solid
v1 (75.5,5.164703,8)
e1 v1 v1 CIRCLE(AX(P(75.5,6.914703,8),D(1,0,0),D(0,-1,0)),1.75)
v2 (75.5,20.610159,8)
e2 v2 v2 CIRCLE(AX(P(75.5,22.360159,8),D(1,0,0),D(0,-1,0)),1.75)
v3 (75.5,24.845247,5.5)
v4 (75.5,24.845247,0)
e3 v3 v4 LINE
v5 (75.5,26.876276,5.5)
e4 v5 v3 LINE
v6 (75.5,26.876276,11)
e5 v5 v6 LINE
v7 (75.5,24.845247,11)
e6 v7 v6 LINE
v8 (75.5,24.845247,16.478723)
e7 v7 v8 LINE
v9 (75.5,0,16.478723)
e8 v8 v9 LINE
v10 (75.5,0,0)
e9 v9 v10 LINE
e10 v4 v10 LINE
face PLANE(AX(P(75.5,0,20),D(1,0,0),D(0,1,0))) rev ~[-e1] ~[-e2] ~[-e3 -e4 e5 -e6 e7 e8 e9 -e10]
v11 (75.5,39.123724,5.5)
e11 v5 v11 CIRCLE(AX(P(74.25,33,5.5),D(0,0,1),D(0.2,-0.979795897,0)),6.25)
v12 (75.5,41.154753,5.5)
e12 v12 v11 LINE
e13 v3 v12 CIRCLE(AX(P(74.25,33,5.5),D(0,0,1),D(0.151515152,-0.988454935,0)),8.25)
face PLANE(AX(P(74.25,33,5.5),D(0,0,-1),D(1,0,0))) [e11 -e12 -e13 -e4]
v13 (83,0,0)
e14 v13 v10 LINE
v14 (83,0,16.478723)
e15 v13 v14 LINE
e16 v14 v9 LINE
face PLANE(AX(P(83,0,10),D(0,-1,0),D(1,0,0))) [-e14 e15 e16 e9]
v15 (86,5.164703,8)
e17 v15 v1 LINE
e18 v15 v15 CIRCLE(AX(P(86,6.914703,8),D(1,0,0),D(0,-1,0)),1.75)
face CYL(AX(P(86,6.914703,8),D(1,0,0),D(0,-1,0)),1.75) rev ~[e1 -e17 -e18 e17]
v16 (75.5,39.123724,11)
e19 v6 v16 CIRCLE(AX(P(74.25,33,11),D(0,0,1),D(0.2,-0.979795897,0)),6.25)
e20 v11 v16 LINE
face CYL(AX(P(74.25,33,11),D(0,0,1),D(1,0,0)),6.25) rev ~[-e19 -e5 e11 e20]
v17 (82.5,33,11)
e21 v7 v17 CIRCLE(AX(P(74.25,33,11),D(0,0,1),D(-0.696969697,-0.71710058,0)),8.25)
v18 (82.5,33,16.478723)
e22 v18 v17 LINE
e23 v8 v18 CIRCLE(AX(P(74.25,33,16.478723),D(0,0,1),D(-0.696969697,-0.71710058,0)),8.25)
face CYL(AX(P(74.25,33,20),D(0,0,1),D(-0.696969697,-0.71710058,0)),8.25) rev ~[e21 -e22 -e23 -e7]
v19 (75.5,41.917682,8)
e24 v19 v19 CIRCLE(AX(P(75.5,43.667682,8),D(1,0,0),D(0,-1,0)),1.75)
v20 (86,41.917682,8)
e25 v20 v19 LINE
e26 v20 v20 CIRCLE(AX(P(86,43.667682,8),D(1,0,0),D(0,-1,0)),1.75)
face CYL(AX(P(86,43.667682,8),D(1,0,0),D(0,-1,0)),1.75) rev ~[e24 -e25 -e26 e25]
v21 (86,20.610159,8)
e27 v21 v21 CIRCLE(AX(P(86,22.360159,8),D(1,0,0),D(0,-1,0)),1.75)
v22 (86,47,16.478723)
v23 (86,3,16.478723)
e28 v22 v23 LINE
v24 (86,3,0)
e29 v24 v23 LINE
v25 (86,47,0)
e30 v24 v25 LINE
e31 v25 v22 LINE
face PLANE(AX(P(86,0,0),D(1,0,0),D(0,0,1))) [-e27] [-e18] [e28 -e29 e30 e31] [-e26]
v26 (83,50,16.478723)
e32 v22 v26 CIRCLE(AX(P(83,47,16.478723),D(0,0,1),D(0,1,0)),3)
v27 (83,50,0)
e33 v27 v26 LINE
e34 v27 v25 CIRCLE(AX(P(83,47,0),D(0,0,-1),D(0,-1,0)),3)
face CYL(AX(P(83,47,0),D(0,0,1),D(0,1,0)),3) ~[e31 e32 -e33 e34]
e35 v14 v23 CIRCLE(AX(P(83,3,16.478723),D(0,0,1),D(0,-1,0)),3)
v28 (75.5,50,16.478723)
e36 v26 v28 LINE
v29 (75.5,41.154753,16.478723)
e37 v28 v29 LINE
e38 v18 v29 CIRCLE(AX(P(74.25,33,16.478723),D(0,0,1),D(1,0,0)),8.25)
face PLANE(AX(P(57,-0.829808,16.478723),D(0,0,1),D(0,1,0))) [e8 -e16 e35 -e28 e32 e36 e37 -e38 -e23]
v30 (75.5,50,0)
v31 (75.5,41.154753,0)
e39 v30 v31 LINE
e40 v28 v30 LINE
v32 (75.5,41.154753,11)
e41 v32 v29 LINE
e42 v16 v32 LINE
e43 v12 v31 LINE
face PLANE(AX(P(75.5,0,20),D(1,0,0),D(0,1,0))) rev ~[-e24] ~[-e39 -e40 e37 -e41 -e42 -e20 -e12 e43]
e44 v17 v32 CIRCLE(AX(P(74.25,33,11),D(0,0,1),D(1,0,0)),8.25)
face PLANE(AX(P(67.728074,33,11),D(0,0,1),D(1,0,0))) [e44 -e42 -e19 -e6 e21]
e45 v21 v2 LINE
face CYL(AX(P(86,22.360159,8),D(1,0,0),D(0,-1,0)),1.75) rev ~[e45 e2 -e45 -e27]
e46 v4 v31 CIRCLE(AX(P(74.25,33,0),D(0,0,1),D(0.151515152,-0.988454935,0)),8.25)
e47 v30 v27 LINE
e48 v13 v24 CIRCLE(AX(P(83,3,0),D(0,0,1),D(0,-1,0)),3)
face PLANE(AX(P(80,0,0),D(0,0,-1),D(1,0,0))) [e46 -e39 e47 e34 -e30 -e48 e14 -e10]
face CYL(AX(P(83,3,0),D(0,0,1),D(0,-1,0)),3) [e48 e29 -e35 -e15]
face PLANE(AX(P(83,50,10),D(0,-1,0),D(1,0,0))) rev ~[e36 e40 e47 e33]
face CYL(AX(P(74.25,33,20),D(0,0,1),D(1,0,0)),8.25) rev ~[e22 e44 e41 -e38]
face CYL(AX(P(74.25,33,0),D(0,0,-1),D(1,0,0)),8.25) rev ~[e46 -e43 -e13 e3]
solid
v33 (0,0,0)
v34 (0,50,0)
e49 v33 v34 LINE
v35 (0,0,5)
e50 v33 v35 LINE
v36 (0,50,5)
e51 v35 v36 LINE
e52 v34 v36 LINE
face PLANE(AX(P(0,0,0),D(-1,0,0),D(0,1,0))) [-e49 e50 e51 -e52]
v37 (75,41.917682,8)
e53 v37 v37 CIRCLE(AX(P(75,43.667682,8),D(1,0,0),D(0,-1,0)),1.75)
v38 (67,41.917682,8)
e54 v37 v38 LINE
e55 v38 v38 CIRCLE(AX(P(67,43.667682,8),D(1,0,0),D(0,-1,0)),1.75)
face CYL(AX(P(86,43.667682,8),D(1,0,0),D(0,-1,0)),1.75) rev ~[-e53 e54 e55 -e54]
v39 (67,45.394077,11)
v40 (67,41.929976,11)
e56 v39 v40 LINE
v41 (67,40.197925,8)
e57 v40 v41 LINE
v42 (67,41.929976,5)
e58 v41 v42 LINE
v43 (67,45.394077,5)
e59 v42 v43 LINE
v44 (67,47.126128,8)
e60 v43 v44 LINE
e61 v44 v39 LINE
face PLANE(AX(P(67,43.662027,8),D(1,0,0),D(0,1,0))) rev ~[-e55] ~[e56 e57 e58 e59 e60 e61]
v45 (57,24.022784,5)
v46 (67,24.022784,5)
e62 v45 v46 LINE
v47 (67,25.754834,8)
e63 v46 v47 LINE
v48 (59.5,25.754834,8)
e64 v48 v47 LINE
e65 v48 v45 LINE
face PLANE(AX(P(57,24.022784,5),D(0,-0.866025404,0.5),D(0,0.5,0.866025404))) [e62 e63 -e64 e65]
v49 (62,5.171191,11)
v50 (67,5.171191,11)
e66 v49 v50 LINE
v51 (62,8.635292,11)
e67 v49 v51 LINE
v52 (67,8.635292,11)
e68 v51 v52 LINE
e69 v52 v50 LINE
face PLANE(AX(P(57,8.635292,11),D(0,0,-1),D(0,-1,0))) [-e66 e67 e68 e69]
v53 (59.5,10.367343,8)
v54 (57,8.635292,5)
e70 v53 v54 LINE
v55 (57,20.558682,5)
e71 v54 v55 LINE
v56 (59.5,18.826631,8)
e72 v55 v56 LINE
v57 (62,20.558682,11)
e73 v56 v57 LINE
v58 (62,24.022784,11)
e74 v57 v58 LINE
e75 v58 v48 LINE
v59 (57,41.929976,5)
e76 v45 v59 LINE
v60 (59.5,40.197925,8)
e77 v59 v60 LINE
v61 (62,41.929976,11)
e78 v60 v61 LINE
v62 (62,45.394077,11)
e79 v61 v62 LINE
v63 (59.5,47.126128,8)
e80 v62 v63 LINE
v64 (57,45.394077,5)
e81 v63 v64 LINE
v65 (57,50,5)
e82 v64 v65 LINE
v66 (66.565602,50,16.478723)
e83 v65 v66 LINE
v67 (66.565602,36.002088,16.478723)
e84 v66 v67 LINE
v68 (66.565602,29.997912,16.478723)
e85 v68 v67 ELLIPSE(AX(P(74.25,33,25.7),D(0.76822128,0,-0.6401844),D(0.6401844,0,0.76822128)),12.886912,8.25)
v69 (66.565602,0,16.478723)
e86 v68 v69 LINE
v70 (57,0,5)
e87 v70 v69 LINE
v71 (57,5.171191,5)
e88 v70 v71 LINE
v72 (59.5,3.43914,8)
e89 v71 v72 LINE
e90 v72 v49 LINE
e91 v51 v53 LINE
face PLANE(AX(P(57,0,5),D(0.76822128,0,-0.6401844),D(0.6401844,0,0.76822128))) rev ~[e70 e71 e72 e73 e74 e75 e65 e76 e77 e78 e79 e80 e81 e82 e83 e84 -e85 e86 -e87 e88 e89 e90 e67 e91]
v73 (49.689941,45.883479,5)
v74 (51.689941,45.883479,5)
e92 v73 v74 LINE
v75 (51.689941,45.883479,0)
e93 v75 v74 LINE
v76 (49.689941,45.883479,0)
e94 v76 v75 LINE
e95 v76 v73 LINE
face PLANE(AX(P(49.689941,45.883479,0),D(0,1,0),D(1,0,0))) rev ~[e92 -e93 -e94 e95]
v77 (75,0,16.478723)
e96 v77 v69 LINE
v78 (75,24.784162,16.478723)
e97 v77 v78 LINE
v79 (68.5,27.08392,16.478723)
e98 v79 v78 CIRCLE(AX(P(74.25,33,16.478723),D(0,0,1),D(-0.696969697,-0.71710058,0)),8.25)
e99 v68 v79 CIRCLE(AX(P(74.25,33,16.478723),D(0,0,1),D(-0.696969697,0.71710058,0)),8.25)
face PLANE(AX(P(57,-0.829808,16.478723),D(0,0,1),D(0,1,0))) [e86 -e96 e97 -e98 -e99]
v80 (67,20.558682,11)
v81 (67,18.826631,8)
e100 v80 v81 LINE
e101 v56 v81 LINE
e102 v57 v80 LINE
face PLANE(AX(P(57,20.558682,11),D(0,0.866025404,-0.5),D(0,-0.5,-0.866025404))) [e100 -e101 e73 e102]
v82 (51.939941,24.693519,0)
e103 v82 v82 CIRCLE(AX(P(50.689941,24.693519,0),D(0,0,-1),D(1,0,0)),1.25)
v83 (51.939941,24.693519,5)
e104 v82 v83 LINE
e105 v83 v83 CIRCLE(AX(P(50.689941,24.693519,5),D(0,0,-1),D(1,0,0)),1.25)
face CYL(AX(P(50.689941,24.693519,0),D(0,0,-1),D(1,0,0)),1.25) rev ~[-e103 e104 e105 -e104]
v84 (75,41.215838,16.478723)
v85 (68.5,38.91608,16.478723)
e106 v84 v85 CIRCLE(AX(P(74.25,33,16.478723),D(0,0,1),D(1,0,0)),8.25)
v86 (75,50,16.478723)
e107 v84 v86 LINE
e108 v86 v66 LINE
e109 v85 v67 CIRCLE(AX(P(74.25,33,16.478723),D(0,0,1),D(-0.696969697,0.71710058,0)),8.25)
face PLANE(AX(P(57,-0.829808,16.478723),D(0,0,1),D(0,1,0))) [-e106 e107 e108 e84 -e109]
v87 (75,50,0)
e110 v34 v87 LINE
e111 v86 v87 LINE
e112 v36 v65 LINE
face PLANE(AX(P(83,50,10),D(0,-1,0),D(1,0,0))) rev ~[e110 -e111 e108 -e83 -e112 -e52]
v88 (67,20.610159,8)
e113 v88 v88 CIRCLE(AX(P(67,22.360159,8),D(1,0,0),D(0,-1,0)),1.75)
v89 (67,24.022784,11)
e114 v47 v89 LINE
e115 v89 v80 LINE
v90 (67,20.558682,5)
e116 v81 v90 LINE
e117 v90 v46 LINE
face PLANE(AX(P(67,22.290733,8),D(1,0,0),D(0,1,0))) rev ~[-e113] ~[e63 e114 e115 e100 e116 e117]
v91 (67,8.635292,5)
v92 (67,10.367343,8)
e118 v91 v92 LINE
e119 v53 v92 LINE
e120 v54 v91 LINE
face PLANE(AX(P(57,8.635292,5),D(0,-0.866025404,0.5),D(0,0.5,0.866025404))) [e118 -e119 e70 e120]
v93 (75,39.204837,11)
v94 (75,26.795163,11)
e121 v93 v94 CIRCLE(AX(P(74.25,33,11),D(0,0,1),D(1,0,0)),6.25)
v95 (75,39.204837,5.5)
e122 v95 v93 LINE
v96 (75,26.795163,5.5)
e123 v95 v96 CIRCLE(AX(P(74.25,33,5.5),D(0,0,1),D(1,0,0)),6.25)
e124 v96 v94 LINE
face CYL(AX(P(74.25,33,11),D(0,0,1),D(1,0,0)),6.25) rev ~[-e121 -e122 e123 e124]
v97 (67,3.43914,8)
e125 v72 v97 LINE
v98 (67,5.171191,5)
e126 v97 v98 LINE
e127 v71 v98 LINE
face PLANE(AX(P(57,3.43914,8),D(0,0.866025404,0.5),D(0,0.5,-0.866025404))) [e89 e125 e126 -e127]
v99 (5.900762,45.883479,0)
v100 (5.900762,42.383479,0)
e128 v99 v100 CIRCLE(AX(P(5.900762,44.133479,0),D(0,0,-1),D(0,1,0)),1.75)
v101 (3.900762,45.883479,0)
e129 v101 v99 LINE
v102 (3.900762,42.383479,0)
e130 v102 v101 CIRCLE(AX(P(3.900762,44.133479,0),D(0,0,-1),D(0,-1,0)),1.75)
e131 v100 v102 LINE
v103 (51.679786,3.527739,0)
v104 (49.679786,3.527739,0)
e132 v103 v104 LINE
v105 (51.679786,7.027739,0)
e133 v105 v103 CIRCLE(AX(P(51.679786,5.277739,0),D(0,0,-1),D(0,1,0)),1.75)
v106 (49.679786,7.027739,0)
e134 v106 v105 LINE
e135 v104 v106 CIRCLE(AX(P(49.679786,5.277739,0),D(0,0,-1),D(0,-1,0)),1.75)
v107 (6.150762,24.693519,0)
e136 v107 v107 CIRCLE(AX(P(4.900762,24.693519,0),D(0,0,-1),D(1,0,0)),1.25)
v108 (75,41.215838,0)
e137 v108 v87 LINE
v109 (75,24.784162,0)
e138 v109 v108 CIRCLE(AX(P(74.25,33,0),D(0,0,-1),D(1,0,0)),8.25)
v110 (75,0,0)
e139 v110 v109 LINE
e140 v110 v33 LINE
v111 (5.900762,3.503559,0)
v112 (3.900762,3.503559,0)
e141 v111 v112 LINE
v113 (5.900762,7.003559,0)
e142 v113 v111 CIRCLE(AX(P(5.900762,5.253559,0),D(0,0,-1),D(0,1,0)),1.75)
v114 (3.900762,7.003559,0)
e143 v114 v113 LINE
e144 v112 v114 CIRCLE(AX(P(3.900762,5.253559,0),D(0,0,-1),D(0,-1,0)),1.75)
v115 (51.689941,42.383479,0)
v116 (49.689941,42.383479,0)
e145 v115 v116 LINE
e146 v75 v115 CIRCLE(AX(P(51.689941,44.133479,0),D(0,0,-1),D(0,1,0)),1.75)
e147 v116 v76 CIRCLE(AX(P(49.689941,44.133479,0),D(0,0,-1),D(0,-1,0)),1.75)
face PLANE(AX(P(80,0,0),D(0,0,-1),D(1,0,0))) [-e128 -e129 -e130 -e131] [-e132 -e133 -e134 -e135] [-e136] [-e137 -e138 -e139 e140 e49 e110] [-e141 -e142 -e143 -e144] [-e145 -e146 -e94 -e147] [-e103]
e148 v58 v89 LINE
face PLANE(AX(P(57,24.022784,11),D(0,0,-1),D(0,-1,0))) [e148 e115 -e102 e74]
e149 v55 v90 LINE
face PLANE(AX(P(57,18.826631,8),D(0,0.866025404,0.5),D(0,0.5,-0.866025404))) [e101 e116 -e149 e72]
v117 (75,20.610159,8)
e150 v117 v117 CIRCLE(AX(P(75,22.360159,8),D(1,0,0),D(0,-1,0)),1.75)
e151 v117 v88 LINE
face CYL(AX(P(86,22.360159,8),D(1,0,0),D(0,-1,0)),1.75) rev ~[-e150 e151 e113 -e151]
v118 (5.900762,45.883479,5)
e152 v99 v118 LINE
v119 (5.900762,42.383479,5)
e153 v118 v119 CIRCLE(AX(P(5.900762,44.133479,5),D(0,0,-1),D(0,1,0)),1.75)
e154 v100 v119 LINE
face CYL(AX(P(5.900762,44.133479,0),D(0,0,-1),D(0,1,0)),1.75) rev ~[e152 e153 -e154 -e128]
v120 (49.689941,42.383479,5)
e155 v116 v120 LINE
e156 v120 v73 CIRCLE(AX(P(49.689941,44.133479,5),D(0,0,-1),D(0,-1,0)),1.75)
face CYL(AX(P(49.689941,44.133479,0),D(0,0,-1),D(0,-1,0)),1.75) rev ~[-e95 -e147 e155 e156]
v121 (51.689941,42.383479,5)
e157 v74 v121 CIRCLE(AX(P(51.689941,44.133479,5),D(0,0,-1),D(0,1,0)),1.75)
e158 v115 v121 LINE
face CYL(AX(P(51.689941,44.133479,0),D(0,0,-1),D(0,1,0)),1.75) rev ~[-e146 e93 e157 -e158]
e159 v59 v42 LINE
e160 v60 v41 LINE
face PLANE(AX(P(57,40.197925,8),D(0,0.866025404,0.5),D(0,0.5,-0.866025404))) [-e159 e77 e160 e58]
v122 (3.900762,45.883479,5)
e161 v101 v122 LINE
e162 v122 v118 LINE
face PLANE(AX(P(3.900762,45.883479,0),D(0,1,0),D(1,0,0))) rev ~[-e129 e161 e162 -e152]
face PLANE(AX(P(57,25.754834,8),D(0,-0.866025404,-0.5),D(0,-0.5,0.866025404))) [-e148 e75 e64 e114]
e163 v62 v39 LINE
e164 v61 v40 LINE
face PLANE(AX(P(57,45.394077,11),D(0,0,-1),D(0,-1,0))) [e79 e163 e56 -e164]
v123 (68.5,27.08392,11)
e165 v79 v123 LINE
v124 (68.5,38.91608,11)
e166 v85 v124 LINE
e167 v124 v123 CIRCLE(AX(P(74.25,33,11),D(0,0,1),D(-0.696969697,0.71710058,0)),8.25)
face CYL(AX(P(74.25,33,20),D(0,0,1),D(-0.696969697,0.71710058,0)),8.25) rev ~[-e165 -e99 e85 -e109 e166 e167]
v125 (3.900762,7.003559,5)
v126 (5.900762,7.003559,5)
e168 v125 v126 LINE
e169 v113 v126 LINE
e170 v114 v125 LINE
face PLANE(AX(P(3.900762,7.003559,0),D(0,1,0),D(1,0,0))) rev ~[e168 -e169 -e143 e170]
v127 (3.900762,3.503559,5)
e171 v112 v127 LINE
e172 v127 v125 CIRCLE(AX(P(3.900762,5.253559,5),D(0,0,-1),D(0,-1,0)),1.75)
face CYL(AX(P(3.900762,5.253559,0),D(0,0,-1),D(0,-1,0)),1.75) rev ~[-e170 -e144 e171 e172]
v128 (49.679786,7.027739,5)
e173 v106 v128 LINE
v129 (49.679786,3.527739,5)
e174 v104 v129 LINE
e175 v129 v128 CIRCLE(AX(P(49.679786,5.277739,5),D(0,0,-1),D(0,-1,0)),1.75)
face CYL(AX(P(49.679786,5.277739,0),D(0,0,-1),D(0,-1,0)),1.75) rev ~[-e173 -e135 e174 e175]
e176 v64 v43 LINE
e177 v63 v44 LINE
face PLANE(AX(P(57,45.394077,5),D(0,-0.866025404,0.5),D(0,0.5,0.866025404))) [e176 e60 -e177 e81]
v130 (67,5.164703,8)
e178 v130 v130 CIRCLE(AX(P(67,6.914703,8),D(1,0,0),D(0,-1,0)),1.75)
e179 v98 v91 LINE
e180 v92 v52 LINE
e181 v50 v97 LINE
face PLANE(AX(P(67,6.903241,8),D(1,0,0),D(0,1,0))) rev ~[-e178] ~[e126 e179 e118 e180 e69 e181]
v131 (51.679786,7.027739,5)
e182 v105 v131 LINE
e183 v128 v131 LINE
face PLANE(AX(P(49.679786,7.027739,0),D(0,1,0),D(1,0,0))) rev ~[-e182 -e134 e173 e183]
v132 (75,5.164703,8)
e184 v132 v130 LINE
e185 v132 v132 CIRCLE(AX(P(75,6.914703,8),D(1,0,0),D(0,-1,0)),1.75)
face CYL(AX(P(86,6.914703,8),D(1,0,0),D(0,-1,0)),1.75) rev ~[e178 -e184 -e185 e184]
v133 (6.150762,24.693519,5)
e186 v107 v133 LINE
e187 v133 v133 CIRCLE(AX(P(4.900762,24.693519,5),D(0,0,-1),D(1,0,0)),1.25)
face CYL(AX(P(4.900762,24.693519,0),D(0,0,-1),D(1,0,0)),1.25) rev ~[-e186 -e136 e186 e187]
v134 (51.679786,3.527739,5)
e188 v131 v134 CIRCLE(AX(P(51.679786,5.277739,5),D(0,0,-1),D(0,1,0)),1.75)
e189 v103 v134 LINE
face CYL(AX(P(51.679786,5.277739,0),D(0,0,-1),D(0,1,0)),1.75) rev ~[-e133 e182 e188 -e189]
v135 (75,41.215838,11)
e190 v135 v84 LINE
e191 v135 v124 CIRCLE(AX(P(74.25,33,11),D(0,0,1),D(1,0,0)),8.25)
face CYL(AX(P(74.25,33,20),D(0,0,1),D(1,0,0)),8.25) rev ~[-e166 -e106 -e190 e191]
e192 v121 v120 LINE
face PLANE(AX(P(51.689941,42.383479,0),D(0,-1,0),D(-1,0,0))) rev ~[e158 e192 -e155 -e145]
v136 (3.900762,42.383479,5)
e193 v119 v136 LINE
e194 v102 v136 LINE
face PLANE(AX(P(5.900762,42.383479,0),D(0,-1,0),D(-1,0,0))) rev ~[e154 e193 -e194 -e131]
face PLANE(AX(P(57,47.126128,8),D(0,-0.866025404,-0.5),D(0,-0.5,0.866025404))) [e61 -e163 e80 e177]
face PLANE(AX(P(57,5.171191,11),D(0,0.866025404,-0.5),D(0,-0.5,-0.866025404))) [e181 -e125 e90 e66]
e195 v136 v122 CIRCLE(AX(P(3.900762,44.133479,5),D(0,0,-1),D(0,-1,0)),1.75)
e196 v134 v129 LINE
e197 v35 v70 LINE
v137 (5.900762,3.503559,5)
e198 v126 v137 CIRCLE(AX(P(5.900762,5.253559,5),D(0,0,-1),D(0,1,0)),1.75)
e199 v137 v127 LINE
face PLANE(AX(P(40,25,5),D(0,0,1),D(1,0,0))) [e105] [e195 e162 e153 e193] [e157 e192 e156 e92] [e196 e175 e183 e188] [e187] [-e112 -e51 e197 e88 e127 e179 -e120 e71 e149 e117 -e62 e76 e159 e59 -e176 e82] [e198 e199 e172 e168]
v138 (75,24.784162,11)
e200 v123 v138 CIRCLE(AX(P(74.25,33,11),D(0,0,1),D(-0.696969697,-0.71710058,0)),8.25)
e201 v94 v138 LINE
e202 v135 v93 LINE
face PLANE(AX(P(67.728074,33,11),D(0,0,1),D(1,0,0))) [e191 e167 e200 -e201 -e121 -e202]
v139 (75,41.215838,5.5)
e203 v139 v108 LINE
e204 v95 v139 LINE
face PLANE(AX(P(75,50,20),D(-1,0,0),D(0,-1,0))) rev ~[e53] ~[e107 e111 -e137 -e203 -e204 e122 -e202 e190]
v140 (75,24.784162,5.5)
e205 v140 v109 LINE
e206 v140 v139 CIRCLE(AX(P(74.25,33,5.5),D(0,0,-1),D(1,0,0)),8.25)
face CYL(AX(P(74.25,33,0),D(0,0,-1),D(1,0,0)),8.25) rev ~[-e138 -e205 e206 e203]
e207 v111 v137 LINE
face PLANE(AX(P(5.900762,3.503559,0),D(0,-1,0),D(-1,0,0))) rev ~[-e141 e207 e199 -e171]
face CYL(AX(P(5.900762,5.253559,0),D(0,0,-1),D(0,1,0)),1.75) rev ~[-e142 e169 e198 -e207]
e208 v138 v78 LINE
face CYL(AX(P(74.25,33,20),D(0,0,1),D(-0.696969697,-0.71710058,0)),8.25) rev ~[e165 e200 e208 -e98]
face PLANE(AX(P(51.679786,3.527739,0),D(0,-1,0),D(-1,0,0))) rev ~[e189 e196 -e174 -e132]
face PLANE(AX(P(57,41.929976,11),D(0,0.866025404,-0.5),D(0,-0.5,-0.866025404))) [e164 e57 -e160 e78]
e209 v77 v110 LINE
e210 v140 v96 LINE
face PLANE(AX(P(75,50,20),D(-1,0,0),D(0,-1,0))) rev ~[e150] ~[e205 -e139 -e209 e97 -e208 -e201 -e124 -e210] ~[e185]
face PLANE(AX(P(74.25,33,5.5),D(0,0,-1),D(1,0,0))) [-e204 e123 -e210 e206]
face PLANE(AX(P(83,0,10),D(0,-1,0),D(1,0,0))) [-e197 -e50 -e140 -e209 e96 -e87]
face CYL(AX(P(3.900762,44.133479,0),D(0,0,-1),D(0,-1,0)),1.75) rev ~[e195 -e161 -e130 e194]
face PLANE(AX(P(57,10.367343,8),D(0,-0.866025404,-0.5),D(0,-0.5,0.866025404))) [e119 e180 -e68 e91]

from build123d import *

# Parameters (mm, degrees)
F0_W      = 80
F0_H      = 50
F1_DEPTH  = 5
F2_W      = 23
F2_H      = 50
F3_DEPTH  = 15
F5_DEPTH  = 50
F7_DEPTH  = 25
F4_W      = 6
F4_H      = 20
F8_DEPTH  = 50
F9_R      = 1.25
F10_DEPTH = 9
F11_R     = 6.25
F11_R_2   = 1.25
F12_DEPTH = 6
F13_R     = 8.25
F13_R_2   = 1.25
F14_DEPTH = 5.5
F16_DEPTH = 25
F17_R     = 3
F19_DEPTH = 55
F21_DEPTH = 30
F24_R     = 1.25
F25_DEPTH = 10
F26_DEPTH = 10
F28_DEPTH = 30


with BuildPart() as f1:
    # F0 (on Top) → F1 (new body)
    with BuildSketch(Plane.XY):
        with Locations((40, 25)):
            Rectangle(F0_W, F0_H)
        with BuildLine():
            ThreePointArc((5.9007617161, 7.0035592838), (7.6507617161, 5.2535592838), (5.9007617161, 3.5035592838))
            Line((5.9007617161, 3.5035592838), (3.9007617161, 3.5035592838))
            ThreePointArc((3.9007617161, 3.5035592838), (2.1507617161, 5.2535592838), (3.9007617161, 7.0035592838))
            Line((3.9007617161, 7.0035592838), (5.9007617161, 7.0035592838))
        make_face(mode=Mode.SUBTRACT)
        with BuildLine():
            ThreePointArc((51.6797859669, 7.0277387462), (53.4297859669, 5.2777387462), (51.6797859669, 3.5277387462))
            Line((51.6797859669, 3.5277387462), (49.6797859669, 3.5277387462))
            ThreePointArc((49.6797859669, 3.5277387462), (47.9297859669, 5.2777387462), (49.6797859669, 7.0277387462))
            Line((49.6797859669, 7.0277387462), (51.6797859669, 7.0277387462))
        make_face(mode=Mode.SUBTRACT)
        with BuildLine():
            ThreePointArc((5.9007617161, 45.8834791875), (7.6507617161, 44.1334791875), (5.9007617161, 42.3834791875))
            Line((5.9007617161, 42.3834791875), (3.9007617161, 42.3834791875))
            ThreePointArc((3.9007617161, 42.3834791875), (2.1507617161, 44.1334791875), (3.9007617161, 45.8834791875))
            Line((3.9007617161, 45.8834791875), (5.9007617161, 45.8834791875))
        make_face(mode=Mode.SUBTRACT)
        with BuildLine():
            ThreePointArc((51.6899411082, 45.8834791875), (53.4399411082, 44.1334791875), (51.6899411082, 42.3834791875))
            Line((51.6899411082, 42.3834791875), (49.6899411082, 42.3834791875))
            ThreePointArc((49.6899411082, 42.3834791875), (47.9399411082, 44.1334791875), (49.6899411082, 45.8834791875))
            Line((49.6899411082, 45.8834791875), (51.6899411082, 45.8834791875))
        make_face(mode=Mode.SUBTRACT)
    extrude(amount=F1_DEPTH)

    # F2 (on face) → F3 (join)
    with BuildSketch(Plane.XY.offset(5)):
        with Locations((68.5, 25)):
            Rectangle(F2_W, F2_H)
    extrude(amount=F3_DEPTH)

    # F4 (on face) → F5 (cut)
    with BuildSketch(Plane.XZ):
        Polygon((57, 5), (68.5, 20), (57, 20), align=None)
    extrude(amount=-F5_DEPTH, mode=Mode.SUBTRACT)

    # F6 (on face) → F7 (cut)
    with BuildSketch(Plane.XY.offset(20)):
        with BuildLine():
            Line((74.25, 31.75), (74.25, 34.25))
            ThreePointArc((74.25, 34.25), (73, 33), (74.25, 31.75))
        make_face()
        with BuildLine():
            ThreePointArc((75.5, 33), (75.1338834765, 33.8838834765), (74.25, 34.25))
            Line((74.25, 34.25), (74.25, 31.75))
            ThreePointArc((74.25, 31.75), (75.1338834765, 32.1161165235), (75.5, 33))
        make_face()
    extrude(amount=-F7_DEPTH, mode=Mode.SUBTRACT)

    # F4 (on face) → F8 (join)
    with BuildSketch(Plane.XZ):
        with Locations((83, 10)):
            Rectangle(F4_W, F4_H)
    extrude(amount=-F8_DEPTH)

    # F9 (on face) → F10 (cut)
    with BuildSketch(Plane.XY.offset(20)):
        with BuildLine():
            Line((68.5, 27.0839202169), (68.5, 38.9160797831))
            ThreePointArc((68.5, 38.9160797831), (66, 33), (68.5, 27.0839202169))
        make_face()
        with BuildLine():
            ThreePointArc((68.5, 27.0839202169), (77.4613081447, 25.4006579232), (82.5, 33))
            ThreePointArc((82.5, 33), (77.4613081447, 40.5993420768), (68.5, 38.9160797831))
            Line((68.5, 38.9160797831), (68.5, 27.0839202169))
        make_face()
        with Locations((74.25, 33)):
            Circle(F9_R, mode=Mode.SUBTRACT)
    extrude(amount=-F10_DEPTH, mode=Mode.SUBTRACT)

    # F11 (on face) → F12 (cut)
    with BuildSketch(Plane.XY.offset(11)):
        with Locations((74.25, 33)):
            Circle(F11_R)
        with Locations((74.25, 33)):
            Circle(F11_R_2, mode=Mode.SUBTRACT)
    extrude(amount=-F12_DEPTH, mode=Mode.SUBTRACT)

    # F13 (on face) → F14 (cut)
    with BuildSketch(Plane(origin=(0, 0, 0), x_dir=(1, 0, 0), z_dir=(0, 0, -1))):
        with Locations((74.25, -33)):
            Circle(F13_R)
        with Locations((74.25, -33)):
            Circle(F13_R_2, mode=Mode.SUBTRACT)
    extrude(amount=-F14_DEPTH, mode=Mode.SUBTRACT)

    # F15 (on face) → F16 (cut)
    with BuildSketch(Plane.XY.offset(20)):
        with BuildLine():
            Line((75.5, 41.1547532152), (75.5, 50))
            Line((75.5, 50), (75, 50))
            Line((75, 50), (75, 41.2158383626))
            ThreePointArc((75, 41.2158383626), (75.2504663157, 41.1891127206), (75.5, 41.1547532152))
        make_face()
        with BuildLine():
            Line((75.5, 24.8452467848), (75.5, 41.1547532152))
            ThreePointArc((75.5, 41.1547532152), (75.2504663157, 41.1891127206), (75, 41.2158383626))
            Line((75, 41.2158383626), (75, 24.7841616374))
            ThreePointArc((75, 24.7841616374), (75.2504663157, 24.8108872794), (75.5, 24.8452467848))
        make_face()
        with BuildLine():
            Line((75.5, 0), (75.5, 24.8452467848))
            ThreePointArc((75.5, 24.8452467848), (75.2504663157, 24.8108872794), (75, 24.7841616374))
            Line((75, 24.7841616374), (75, 0))
            Line((75, 0), (75.5, 0))
        make_face()
    extrude(amount=-F16_DEPTH, mode=Mode.SUBTRACT)

    # F17
    f17_edges = [f1.edges().sort_by_distance(p)[0] for p in [
        (86, 0, 10),
        (86, 50, 10),
    ]]
    fillet(f17_edges, radius=F17_R)

    # F18 (on face) → F19 (cut)
    with BuildSketch(Plane.XZ):
        Polygon((57, 5), (69.5, 20), (68.5, 20), align=None)
    extrude(amount=-F19_DEPTH, mode=Mode.SUBTRACT)

    # F20 (on face) → F21 (cut)
    with BuildSketch(Plane.YZ.offset(86)):
        with BuildLine():
            Line((5.1647031754, 8), (8.6647031754, 8))
            ThreePointArc((8.6647031754, 8), (6.9147031754, 9.75), (5.1647031754, 8))
        make_face()
        with BuildLine():
            ThreePointArc((5.1647031754, 8), (6.9147031754, 6.25), (8.6647031754, 8))
            Line((8.6647031754, 8), (5.1647031754, 8))
        make_face()
        with BuildLine():
            ThreePointArc((24.1101590842, 8), (22.3601590842, 9.75), (20.6101590842, 8))
            Line((20.6101590842, 8), (24.1101590842, 8))
        make_face()
        with BuildLine():
            Line((24.1101590842, 8), (20.6101590842, 8))
            ThreePointArc((20.6101590842, 8), (22.3601590842, 6.25), (24.1101590842, 8))
        make_face()
        with BuildLine():
            ThreePointArc((45.4176815152, 8), (43.6676815152, 9.75), (41.9176815152, 8))
            Line((41.9176815152, 8), (45.4176815152, 8))
        make_face()
        with BuildLine():
            Line((45.4176815152, 8), (41.9176815152, 8))
            ThreePointArc((41.9176815152, 8), (43.6676815152, 6.25), (45.4176815152, 8))
        make_face()
    extrude(amount=-F21_DEPTH, mode=Mode.SUBTRACT)

    # F24 (on face) → F25 (cut)
    with BuildSketch(Plane(origin=(0, 0, 0), x_dir=(1, 0, 0), z_dir=(0, 0, -1))):
        with Locations((4.9007617161, -24.6935192357)):
            Circle(F24_R)
        with Locations((50.6899411082, -24.6935192357)):
            Circle(F24_R)
    extrude(amount=-F25_DEPTH, mode=Mode.SUBTRACT)

    # F23 (on offset) → F26 (cut)
    with BuildSketch(Plane.YZ.offset(57)):
        Polygon((45.3940773321, 11), (41.929975717, 11), (40.1979249094, 8), (41.929975717, 5), (45.3940773321, 5), (47.1261281397, 8), align=None)
        Polygon((24.0227835191, 11), (20.558681904, 11), (18.8266310964, 8), (20.558681904, 5), (24.0227835191, 5), (25.7548343267, 8), align=None)
        Polygon((8.6352921961, 11), (5.1711905809, 11), (3.4391397734, 8), (5.1711905809, 5), (8.6352921961, 5), (10.3673430036, 8), align=None)
    extrude(amount=F26_DEPTH, mode=Mode.SUBTRACT)

    # F27 (on offset) → F28 (cut)
    with BuildSketch(Plane.YZ.offset(57)):
        Polygon((50.410144031, 16.4787229151), (50.410144031, 19.4787229151), (50.410144031, 20.4787229151), (-0.8298081812, 20.4787229151), (-0.8298081812, 16.4787229151), align=None)
    extrude(amount=F28_DEPTH, mode=Mode.SUBTRACT)


solid = f1.part
